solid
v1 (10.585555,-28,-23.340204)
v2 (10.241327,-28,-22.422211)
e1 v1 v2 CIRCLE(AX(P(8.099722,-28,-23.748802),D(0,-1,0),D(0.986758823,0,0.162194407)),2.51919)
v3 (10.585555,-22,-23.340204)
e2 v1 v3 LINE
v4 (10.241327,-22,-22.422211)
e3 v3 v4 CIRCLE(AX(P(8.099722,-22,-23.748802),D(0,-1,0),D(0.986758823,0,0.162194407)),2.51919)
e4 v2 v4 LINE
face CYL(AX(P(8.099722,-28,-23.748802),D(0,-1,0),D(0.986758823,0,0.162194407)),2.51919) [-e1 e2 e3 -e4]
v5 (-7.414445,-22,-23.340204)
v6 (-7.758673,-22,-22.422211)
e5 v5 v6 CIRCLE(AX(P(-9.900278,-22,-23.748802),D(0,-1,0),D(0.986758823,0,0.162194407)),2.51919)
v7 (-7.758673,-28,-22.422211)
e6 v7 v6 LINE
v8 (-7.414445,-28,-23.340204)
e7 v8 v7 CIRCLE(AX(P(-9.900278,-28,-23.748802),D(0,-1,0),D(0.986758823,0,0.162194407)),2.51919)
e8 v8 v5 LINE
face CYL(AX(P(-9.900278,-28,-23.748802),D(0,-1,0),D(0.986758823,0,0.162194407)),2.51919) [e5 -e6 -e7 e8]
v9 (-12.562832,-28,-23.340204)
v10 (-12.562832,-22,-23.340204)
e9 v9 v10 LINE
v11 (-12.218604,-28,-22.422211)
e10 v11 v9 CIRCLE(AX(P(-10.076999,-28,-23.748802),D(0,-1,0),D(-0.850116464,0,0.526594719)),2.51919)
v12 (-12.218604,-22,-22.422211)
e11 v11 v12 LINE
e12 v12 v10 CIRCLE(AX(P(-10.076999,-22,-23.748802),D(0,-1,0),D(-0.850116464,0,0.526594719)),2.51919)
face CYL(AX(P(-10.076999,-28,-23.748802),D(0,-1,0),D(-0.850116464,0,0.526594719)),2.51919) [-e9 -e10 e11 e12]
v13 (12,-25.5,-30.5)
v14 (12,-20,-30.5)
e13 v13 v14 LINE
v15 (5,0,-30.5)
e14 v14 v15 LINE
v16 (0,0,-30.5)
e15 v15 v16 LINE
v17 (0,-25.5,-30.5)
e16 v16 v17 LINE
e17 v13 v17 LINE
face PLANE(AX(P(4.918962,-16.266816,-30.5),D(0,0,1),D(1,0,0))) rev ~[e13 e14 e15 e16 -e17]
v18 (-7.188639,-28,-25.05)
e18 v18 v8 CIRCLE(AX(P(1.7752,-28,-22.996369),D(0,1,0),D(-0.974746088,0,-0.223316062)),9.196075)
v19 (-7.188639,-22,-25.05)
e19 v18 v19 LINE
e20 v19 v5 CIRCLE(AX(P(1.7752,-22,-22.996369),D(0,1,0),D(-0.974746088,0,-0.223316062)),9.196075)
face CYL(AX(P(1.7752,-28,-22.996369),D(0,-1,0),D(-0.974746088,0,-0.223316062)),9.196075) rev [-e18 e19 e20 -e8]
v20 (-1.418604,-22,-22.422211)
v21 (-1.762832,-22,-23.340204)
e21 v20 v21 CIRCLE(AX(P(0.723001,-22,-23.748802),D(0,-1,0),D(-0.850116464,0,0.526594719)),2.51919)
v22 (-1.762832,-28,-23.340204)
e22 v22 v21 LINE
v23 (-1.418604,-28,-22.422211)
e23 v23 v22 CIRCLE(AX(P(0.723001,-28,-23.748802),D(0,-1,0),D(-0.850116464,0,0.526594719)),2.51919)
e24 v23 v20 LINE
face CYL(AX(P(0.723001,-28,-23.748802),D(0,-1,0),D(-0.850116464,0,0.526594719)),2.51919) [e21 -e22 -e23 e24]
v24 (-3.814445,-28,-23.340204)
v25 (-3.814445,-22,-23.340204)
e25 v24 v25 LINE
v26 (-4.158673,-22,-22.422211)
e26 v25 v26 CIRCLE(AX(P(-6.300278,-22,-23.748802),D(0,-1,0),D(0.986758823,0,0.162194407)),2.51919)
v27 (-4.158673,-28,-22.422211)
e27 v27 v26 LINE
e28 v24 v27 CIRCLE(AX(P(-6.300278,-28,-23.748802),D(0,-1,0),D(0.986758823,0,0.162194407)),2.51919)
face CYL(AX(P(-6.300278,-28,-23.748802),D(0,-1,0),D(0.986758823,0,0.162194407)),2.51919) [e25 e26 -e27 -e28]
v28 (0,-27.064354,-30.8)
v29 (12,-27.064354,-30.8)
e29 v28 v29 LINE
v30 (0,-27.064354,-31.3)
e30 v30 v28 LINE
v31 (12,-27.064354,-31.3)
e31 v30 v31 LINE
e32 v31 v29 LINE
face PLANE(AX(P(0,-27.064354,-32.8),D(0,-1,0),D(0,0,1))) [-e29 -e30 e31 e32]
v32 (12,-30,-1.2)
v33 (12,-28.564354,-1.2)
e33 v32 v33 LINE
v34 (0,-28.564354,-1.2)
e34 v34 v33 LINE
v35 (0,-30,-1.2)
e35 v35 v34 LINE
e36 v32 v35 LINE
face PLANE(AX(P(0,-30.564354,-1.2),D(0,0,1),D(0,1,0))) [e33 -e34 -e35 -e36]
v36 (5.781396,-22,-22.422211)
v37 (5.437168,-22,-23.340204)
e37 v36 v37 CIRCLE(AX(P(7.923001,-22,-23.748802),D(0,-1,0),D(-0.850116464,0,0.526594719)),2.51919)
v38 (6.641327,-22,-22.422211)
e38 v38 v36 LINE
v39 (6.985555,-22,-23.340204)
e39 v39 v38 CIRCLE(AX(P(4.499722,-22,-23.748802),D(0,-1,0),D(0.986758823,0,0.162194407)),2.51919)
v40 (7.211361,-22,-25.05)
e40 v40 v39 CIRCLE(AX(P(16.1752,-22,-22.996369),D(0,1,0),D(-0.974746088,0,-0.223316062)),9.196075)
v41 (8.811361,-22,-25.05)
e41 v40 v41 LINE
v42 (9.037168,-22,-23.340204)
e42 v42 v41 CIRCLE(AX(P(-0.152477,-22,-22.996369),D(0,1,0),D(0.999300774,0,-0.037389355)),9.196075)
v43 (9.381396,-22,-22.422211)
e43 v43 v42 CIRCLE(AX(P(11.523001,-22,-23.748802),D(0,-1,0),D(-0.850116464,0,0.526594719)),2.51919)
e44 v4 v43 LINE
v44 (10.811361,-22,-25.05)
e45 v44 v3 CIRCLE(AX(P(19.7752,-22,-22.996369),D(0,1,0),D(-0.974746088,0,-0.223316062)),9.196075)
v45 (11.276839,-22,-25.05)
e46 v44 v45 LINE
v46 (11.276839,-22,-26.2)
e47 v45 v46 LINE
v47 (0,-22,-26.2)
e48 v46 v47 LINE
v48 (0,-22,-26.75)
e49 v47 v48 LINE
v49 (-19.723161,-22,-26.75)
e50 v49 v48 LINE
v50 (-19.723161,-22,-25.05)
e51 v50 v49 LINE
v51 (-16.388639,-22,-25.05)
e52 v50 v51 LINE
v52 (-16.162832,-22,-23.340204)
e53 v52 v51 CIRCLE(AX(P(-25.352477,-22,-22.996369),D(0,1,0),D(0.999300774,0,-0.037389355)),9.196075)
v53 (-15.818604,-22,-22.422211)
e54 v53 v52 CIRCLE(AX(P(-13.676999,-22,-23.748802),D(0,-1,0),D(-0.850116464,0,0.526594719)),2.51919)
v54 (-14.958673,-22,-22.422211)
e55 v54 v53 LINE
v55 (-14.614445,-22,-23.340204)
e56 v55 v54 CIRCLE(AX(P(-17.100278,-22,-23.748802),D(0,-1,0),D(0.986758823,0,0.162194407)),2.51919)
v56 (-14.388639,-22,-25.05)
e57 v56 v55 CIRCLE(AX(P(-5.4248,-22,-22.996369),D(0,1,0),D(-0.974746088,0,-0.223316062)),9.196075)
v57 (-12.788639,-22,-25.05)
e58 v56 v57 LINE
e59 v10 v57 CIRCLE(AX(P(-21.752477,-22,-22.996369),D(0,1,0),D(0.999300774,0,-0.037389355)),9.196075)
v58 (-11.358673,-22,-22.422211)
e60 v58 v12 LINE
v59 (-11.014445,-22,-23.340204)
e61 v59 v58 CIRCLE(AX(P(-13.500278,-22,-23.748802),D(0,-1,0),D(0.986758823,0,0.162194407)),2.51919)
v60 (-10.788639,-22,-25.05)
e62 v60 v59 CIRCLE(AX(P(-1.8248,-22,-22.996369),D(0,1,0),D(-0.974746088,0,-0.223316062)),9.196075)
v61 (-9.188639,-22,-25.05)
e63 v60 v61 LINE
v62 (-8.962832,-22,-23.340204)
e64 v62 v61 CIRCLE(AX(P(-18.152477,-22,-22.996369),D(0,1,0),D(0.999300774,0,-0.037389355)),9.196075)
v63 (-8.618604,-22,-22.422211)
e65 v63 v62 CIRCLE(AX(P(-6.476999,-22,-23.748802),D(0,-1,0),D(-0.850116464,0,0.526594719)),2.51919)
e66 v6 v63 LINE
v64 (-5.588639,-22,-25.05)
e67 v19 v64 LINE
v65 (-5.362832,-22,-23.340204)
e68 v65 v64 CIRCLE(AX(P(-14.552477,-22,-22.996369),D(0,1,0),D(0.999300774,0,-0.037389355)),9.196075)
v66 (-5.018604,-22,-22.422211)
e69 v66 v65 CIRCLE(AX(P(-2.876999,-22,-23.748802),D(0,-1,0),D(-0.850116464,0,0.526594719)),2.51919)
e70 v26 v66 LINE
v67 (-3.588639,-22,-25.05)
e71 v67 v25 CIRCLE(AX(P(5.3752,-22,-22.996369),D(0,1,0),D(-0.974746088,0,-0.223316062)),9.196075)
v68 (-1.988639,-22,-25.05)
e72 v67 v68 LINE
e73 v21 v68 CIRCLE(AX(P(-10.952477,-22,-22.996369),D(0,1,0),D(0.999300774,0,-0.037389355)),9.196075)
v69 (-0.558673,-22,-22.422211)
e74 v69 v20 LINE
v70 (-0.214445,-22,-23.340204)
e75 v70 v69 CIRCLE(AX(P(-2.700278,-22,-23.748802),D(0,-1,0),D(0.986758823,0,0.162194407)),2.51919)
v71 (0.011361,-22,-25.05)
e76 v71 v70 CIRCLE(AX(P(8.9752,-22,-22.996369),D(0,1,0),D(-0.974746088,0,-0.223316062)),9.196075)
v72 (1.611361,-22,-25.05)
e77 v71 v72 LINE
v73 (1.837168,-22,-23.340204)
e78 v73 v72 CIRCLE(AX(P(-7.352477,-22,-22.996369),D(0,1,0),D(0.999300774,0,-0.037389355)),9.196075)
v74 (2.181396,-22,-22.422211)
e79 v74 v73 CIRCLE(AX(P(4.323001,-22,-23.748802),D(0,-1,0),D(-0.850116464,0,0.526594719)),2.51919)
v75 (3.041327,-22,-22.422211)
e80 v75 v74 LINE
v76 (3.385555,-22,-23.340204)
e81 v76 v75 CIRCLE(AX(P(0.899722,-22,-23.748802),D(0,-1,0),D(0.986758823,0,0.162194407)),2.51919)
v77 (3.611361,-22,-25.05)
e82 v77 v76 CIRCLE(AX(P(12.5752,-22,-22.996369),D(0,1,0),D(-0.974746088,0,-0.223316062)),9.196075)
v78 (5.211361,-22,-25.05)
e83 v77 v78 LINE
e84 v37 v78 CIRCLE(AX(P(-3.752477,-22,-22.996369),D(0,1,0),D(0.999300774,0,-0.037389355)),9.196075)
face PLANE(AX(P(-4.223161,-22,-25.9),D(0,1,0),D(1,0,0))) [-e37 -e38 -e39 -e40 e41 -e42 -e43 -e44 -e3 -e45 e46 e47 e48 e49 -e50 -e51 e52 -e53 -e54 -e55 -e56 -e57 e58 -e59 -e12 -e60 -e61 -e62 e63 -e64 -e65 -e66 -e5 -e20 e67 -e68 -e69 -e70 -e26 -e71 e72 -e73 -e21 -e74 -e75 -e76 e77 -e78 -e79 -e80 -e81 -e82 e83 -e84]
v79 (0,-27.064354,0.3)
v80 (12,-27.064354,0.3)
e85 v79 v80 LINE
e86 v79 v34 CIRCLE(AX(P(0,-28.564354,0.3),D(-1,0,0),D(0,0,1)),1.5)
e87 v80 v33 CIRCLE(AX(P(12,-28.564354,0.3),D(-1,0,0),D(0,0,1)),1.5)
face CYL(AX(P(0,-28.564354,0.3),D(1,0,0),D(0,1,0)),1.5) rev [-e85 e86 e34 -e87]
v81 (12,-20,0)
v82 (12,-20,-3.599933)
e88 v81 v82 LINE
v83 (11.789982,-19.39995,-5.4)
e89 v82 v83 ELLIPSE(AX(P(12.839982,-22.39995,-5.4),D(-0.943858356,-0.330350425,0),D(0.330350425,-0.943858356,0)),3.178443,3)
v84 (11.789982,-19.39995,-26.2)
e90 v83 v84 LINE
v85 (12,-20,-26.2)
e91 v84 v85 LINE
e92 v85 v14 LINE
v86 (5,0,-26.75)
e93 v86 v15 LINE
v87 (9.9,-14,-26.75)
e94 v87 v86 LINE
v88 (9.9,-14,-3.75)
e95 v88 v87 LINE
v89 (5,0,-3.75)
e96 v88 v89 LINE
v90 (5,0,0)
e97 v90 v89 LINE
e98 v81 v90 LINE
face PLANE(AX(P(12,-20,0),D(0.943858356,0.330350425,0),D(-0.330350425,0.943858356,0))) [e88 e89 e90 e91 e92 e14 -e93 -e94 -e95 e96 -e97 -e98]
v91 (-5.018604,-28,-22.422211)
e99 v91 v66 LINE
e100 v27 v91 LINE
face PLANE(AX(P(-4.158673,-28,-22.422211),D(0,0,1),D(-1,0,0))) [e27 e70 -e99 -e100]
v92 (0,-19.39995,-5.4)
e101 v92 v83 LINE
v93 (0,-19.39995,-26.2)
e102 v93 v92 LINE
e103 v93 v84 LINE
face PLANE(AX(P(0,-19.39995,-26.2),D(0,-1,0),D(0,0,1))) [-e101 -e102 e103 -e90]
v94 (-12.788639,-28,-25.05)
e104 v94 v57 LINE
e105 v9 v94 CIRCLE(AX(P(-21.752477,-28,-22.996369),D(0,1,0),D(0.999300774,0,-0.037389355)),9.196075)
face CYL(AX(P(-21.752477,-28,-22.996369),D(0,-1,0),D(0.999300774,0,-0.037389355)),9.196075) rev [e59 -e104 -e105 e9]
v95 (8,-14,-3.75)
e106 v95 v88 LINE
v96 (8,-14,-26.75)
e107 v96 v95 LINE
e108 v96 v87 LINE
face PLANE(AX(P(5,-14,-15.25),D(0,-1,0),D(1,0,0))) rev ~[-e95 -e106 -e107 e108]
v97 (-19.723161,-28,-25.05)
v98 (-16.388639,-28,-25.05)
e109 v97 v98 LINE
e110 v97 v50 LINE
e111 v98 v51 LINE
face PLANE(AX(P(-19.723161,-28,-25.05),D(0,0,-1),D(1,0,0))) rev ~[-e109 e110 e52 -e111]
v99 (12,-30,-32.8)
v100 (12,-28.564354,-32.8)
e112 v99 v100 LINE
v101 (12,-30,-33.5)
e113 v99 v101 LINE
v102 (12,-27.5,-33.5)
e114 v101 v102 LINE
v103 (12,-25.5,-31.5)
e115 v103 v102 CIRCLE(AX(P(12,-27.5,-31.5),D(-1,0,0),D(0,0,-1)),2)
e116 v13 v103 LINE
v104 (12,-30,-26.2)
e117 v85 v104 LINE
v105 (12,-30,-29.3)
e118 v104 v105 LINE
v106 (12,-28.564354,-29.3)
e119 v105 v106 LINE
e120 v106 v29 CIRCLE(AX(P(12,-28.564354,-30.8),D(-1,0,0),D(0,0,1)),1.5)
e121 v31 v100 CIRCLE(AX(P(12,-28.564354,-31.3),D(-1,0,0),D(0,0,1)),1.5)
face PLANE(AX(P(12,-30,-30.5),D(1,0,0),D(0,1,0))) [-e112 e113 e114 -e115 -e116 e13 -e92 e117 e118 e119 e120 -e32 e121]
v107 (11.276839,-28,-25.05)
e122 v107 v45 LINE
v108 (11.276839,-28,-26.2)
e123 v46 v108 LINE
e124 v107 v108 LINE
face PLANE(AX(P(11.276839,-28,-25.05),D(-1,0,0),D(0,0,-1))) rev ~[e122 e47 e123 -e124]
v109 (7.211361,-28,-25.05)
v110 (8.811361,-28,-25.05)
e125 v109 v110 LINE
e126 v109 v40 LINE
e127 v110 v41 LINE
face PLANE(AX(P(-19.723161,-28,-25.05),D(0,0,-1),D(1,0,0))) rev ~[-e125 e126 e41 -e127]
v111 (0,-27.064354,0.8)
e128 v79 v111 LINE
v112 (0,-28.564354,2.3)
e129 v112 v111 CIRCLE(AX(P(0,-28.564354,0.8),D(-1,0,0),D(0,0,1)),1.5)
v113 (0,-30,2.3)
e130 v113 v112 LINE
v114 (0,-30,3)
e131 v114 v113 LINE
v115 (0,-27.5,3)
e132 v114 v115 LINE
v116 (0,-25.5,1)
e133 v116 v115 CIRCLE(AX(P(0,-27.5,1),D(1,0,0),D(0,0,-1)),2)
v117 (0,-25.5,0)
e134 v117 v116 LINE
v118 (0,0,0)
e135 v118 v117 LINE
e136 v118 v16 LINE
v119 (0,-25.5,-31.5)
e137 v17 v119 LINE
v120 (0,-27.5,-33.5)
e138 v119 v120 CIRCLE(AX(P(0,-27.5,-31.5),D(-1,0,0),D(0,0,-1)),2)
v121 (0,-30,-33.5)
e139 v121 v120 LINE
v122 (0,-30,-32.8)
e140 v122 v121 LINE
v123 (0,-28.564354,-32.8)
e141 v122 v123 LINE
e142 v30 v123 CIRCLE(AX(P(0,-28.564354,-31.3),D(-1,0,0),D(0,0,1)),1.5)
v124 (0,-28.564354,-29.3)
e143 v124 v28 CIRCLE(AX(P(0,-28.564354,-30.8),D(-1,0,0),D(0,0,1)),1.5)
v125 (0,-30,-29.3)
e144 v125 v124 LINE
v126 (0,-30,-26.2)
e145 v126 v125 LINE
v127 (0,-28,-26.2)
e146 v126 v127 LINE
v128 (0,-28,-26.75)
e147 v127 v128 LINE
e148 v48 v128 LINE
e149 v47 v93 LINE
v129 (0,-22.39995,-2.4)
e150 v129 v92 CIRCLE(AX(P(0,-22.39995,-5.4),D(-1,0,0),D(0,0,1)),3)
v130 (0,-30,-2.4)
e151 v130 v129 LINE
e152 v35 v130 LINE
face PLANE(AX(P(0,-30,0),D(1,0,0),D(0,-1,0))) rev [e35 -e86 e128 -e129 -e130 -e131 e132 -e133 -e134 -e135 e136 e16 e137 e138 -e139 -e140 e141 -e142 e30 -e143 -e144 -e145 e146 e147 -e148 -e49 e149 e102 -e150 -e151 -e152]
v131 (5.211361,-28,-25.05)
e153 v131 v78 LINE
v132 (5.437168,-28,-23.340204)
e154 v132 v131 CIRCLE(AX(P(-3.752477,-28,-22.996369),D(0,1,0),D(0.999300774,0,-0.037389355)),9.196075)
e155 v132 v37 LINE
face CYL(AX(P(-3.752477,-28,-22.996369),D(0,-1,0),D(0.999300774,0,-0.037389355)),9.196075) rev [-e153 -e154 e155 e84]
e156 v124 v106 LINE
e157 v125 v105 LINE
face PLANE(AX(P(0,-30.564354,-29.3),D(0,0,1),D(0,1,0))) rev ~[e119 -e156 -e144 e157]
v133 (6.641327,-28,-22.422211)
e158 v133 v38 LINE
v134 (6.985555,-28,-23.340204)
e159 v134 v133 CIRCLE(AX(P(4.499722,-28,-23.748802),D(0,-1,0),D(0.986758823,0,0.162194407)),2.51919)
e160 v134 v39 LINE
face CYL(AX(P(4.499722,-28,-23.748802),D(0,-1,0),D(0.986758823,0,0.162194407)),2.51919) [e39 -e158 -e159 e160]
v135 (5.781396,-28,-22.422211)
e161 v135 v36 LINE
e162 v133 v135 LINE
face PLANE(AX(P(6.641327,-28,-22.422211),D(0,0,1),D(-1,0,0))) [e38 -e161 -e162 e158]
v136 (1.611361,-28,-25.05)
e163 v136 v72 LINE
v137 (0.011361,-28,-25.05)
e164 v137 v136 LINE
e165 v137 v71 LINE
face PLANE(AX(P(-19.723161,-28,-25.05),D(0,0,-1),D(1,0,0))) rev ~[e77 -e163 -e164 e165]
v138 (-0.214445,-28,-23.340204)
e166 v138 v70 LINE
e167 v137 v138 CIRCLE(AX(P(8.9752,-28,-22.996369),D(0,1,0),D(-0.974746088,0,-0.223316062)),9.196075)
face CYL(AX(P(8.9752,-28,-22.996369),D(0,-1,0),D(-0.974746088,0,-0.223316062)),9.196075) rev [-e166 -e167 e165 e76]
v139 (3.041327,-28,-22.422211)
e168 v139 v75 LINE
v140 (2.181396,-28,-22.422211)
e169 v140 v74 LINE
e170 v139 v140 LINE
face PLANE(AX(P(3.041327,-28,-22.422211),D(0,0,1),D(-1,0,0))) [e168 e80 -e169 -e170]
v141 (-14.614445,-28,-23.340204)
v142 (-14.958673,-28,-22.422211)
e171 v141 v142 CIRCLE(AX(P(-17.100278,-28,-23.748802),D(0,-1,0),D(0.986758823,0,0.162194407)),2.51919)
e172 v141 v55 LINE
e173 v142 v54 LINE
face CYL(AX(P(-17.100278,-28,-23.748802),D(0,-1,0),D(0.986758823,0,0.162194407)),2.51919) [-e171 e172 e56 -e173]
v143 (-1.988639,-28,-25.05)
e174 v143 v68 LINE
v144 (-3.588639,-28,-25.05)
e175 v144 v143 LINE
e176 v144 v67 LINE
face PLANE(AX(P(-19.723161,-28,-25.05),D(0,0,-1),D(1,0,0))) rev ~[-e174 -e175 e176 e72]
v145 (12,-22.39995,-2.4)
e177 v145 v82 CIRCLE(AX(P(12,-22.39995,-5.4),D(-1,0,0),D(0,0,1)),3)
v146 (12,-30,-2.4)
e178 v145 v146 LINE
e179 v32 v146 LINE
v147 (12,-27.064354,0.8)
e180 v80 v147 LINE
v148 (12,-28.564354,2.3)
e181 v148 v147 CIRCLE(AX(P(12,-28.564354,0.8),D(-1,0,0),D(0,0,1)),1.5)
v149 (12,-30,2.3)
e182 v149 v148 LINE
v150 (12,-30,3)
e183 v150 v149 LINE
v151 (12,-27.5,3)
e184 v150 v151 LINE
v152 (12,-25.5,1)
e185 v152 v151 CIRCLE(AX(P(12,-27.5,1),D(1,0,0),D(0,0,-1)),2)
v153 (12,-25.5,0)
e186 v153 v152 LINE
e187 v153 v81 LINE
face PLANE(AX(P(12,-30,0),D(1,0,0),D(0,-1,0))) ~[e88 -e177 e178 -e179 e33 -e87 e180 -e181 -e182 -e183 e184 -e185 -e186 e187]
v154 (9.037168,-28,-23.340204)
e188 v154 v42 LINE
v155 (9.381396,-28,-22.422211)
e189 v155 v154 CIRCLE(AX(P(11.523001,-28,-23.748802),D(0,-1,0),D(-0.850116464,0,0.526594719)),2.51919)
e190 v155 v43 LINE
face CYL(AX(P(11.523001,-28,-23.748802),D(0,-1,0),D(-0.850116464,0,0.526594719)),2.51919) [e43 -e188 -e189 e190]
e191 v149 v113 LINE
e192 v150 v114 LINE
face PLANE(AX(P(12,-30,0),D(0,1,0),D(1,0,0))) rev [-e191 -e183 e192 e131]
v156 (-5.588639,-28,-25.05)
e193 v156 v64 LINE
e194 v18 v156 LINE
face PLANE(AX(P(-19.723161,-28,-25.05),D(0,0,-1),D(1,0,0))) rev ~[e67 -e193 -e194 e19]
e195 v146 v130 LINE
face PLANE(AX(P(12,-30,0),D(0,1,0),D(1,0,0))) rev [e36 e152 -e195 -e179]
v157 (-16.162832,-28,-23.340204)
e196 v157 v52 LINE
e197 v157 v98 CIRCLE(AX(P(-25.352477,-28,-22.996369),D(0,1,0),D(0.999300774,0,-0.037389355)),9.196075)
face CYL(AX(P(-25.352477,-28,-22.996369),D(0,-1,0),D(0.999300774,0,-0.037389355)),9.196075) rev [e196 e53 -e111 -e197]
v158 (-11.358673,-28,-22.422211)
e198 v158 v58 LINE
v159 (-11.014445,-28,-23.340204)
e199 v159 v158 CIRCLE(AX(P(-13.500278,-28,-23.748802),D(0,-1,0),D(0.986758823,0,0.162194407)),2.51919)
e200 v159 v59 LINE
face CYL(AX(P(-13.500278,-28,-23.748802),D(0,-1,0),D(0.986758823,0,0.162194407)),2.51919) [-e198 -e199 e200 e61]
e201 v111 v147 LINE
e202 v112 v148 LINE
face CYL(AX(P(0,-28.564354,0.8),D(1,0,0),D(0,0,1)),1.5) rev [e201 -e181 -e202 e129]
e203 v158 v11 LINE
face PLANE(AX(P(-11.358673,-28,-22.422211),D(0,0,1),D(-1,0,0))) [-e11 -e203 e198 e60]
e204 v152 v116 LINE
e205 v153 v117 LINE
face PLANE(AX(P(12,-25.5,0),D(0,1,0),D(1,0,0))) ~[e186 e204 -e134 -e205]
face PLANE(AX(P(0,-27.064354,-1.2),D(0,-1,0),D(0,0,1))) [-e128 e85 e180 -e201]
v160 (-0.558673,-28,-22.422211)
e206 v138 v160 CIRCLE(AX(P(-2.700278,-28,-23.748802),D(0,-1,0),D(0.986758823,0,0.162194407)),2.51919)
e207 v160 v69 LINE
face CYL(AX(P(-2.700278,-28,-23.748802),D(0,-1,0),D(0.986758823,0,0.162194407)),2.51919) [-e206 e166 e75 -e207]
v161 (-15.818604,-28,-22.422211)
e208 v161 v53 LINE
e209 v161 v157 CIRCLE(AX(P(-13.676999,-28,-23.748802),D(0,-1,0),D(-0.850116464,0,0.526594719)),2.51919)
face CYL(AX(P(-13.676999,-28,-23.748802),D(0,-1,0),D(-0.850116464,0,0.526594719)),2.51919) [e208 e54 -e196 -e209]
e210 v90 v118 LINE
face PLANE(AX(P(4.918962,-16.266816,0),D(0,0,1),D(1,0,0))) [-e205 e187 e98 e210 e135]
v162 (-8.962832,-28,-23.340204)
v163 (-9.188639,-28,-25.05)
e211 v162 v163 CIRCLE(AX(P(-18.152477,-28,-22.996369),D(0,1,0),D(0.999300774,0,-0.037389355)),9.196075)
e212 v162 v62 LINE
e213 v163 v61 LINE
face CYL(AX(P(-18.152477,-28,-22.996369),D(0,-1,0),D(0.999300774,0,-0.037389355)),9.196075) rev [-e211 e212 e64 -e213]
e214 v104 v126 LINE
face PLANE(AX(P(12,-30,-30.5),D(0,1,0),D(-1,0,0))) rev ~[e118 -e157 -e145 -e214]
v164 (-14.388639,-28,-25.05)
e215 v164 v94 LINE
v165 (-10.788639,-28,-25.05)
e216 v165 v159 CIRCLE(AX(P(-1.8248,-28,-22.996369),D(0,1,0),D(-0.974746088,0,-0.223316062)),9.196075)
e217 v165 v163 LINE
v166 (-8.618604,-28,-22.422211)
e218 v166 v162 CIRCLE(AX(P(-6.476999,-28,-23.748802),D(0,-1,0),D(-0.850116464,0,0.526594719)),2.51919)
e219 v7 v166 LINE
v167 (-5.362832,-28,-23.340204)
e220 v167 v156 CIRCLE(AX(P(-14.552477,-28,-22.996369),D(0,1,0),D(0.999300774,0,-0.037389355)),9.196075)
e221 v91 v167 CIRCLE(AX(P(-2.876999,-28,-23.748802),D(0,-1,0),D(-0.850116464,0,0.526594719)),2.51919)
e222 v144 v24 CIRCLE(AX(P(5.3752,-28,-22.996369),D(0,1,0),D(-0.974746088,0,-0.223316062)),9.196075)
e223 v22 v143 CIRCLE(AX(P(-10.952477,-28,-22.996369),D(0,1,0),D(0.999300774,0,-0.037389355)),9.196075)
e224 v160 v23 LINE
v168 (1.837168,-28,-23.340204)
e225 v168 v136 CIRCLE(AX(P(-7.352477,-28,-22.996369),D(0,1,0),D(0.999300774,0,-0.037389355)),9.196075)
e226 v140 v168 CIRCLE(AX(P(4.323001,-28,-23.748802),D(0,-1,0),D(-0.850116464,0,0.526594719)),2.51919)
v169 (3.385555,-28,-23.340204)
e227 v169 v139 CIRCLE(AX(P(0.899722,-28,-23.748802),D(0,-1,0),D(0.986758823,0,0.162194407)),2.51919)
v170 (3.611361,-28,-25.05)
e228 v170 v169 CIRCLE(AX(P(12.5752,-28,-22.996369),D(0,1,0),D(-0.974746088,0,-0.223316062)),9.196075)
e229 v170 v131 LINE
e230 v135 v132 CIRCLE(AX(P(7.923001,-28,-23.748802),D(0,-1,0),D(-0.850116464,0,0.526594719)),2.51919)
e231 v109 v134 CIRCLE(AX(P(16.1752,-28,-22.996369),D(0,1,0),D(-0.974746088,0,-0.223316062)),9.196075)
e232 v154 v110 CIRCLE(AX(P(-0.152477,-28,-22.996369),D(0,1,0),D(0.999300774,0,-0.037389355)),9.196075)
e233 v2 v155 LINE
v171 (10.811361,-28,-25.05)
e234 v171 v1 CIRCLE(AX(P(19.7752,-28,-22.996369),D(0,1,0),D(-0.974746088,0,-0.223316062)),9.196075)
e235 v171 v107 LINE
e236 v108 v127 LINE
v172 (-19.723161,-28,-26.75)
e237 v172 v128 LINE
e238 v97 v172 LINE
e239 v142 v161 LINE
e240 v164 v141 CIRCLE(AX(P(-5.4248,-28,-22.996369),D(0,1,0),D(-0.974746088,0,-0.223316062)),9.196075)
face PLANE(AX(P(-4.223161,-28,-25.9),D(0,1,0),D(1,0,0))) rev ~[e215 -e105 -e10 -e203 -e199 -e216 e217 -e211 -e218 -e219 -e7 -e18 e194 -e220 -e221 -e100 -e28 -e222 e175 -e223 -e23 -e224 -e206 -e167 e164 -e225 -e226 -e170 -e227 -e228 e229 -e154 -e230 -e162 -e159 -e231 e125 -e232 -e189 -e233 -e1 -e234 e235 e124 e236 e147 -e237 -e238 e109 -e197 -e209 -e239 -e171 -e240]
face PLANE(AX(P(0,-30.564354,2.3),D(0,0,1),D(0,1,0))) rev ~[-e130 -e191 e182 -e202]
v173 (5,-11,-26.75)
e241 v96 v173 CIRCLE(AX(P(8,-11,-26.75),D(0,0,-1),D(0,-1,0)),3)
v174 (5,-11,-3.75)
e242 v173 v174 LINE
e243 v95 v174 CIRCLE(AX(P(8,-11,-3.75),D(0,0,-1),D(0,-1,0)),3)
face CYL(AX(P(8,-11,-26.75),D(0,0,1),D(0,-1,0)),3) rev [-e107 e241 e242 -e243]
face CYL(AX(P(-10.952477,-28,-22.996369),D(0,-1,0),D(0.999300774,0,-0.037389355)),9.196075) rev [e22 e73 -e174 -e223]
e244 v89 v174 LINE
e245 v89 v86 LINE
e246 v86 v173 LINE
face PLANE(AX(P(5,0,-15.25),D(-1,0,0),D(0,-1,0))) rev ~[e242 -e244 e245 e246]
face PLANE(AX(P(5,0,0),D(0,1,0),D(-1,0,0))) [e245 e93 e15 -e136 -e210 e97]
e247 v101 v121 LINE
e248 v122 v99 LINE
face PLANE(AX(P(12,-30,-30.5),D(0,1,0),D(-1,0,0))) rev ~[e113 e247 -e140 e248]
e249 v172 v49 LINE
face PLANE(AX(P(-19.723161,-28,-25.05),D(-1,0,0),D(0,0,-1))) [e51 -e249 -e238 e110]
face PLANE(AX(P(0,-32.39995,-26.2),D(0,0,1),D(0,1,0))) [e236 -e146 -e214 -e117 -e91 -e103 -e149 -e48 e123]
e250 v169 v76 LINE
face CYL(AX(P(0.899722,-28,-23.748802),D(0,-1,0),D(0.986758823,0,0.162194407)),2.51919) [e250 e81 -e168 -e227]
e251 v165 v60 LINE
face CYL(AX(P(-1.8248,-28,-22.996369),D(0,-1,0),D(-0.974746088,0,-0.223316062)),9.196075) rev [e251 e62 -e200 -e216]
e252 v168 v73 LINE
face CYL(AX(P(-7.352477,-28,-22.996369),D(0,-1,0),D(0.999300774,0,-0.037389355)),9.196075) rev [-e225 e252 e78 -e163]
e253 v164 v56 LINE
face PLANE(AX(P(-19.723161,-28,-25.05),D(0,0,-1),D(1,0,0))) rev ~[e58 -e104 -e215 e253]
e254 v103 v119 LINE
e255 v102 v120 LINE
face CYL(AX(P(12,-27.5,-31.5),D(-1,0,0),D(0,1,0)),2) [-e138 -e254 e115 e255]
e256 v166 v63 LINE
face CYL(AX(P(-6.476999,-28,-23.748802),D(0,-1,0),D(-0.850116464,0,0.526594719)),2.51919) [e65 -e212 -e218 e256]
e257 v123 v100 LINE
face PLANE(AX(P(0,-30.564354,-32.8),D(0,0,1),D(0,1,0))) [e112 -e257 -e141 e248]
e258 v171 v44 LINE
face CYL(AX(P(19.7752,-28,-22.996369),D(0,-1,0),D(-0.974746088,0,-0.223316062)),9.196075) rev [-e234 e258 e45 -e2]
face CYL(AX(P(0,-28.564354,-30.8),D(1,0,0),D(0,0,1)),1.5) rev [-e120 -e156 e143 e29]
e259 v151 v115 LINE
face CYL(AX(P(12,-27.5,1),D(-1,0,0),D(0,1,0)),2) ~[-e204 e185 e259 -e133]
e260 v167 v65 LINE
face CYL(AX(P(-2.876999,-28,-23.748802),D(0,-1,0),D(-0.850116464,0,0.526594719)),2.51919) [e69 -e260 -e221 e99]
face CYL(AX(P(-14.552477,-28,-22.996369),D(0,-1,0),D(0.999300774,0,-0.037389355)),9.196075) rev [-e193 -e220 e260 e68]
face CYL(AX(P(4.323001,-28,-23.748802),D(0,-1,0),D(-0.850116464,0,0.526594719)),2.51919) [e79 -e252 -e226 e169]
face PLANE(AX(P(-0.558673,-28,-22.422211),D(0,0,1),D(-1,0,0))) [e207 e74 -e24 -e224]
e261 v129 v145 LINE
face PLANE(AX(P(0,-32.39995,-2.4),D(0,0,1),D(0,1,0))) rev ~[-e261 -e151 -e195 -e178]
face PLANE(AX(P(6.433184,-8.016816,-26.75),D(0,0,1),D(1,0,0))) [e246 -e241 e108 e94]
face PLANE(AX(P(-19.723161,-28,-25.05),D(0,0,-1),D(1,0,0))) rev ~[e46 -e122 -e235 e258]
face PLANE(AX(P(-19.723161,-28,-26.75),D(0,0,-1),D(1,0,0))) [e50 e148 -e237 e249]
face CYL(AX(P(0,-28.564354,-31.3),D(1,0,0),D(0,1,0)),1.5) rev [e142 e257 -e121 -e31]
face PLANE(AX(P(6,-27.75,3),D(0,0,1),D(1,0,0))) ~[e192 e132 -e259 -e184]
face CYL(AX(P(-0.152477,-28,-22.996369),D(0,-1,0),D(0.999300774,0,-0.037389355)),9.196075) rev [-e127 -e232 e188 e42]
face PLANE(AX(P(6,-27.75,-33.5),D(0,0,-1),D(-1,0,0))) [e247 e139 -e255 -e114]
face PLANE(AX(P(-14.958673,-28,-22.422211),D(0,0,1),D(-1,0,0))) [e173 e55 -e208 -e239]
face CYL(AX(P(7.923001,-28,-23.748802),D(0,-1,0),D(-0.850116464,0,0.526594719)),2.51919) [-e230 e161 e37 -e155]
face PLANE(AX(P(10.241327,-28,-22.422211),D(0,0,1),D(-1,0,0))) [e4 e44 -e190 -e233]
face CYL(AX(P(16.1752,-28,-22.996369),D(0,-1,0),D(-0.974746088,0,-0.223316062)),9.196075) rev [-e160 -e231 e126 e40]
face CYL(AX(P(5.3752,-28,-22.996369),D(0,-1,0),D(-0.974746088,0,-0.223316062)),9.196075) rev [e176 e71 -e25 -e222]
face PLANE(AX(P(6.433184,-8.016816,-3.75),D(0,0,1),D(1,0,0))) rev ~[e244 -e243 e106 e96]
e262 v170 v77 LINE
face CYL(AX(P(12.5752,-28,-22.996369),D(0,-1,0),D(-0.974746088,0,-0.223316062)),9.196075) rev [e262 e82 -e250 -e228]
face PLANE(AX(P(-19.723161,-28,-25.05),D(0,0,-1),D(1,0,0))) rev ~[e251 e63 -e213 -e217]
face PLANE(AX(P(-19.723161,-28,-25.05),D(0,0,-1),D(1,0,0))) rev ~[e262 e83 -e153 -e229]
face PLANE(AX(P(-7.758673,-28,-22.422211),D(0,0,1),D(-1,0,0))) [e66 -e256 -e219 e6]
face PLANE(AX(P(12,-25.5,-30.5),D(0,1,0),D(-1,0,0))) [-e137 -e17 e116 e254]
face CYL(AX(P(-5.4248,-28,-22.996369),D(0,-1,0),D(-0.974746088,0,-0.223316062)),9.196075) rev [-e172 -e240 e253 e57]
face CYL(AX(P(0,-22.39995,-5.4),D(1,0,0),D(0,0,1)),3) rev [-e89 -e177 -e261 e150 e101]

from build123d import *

# Parameters (mm, degrees)
BOSS_EXTRUDE1_DEPTH = 30.5
SKETCH4_W           = 23.8
SKETCH4_H           = 13
CUT_EXTRUDE2_DEPTH  = 25
CUT_EXTRUDE4_DEPTH  = 11.5
SKETCH7_W           = 31
SKETCH7_H           = 1.7
BOSS_EXTRUDE3_DEPTH = 6
BOSS_EXTRUDE4_DEPTH = 6
LPATTERN1_COUNT     = 8
LPATTERN1_PITCH     = 3.6
SKETCH11_W          = 12
SKETCH11_H          = 4.5
BOSS_EXTRUDE5_DEPTH = 3
FILLET1_R           = 2
FILLET2_R           = 2
FILLET5_R           = 3
SKETCH12_W          = 3.5
SKETCH12_H          = 3.5
CUT_EXTRUDE5_DEPTH  = 12
FILLET6_R           = 1.5


with BuildPart() as part:
    # Sketch1 → Boss-Extrude1 (new body)
    with BuildSketch(Plane.XY):
        Polygon((0, 0), (0, -30), (12, -30), (12, -20), (5, 0), align=None)
    extrude(amount=-BOSS_EXTRUDE1_DEPTH)

    # Sketch4 → Cut-Extrude2 (cut)
    with BuildSketch(Plane.ZY):
        with Locations((-14.3, -25.899949695)):
            Rectangle(SKETCH4_W, SKETCH4_H)
    extrude(amount=-CUT_EXTRUDE2_DEPTH, mode=Mode.SUBTRACT)

    # Sketch6 → Cut-Extrude4 (cut, symmetric)
    with BuildSketch(Plane.XY.offset(-15.25)):
        Polygon((5, 0), (5, -14), (9.9, -14), align=None)
    extrude(amount=CUT_EXTRUDE4_DEPTH, both=True, mode=Mode.SUBTRACT)

    # Sketch7 → Boss-Extrude3 (add)
    with BuildSketch(Plane(origin=(0, -28, 0), x_dir=(1, 0, 0), z_dir=(0, 1, 0))):
        with Locations((-4.2231607, 25.9)):
            Rectangle(SKETCH7_W, SKETCH7_H)
    extrude(amount=BOSS_EXTRUDE3_DEPTH)

    # Sketch10 → Boss-Extrude4 (add)
    with BuildSketch(Plane(origin=(0, -28, 0), x_dir=(1, 0, 0), z_dir=(0, 1, 0))):
        with BuildLine():
            Line((10.241326694, 22.422210505), (9.381396201, 22.422210505))
            ThreePointArc((9.381396201, 22.422210505), (9.164193514, 22.864299961), (9.037168184, 23.340204006))
            ThreePointArc((9.037168184, 23.340204006), (8.964435448, 24.200407197), (8.811361447, 25.05))
            Line((8.811361447, 25.05), (10.811361447, 25.05))
            ThreePointArc((10.811361447, 25.05), (10.658287447, 24.200407197), (10.585554711, 23.340204006))
            ThreePointArc((10.585554711, 23.340204006), (10.45852938, 22.864299961), (10.241326694, 22.422210505))
        make_face()
    boss_extrude4 = extrude(amount=BOSS_EXTRUDE4_DEPTH)

    # LPattern1: Boss-Extrude4 ×8
    with Locations(*[(-i * LPATTERN1_PITCH, 0, 0) for i in range(1, LPATTERN1_COUNT)]):
        add(boss_extrude4)

    # Sketch11 → Boss-Extrude5 (add)
    with BuildSketch(Plane(origin=(0, 0, -30.5), x_dir=(-1, 0, 0), z_dir=(0, 0, -1))):
        with Locations((-6, -27.75)):
            Rectangle(SKETCH11_W, SKETCH11_H)
    boss_extrude5 = extrude(amount=BOSS_EXTRUDE5_DEPTH)

    # Fillet1
    fillet1_edges = [part.edges().sort_by_distance(p)[0] for p in [
        (6, -25.5, -33.5),
    ]]
    fillet(fillet1_edges, radius=FILLET1_R)

    # Mirror1: Boss-Extrude5 across plane
    add(boss_extrude5.mirror(Plane.XY.offset(-15.25)))

    # Fillet2
    fillet2_edges = [part.edges().sort_by_distance(p)[0] for p in [
        (6, -25.5, 3),
    ]]
    fillet(fillet2_edges, radius=FILLET2_R)

    # Fillet5
    fillet5_edges = [part.edges().sort_by_distance(p)[0] for p in [
        (5, -14, -15.25),
        (5.894991197, -19.399949695, -2.4),
    ]]
    fillet(fillet5_edges, radius=FILLET5_R)

    # Sketch12 → Cut-Extrude5 (cut)
    with BuildSketch(Plane.ZY):
        with Locations((-31.05, -28.814354386)):
            Rectangle(SKETCH12_W, SKETCH12_H)
        with Locations((0.55, -28.814354386)):
            Rectangle(SKETCH12_W, SKETCH12_H)
    extrude(amount=-CUT_EXTRUDE5_DEPTH, mode=Mode.SUBTRACT)

    # Fillet6
    fillet6_edges = [part.edges().sort_by_distance(p)[0] for p in [
        (6, -27.064354386, -29.3),
        (6, -27.064354386, -32.8),
        (6, -27.064354386, -1.2),
        (6, -27.064354386, 2.3),
    ]]
    fillet(fillet6_edges, radius=FILLET6_R)


solid = part.part
